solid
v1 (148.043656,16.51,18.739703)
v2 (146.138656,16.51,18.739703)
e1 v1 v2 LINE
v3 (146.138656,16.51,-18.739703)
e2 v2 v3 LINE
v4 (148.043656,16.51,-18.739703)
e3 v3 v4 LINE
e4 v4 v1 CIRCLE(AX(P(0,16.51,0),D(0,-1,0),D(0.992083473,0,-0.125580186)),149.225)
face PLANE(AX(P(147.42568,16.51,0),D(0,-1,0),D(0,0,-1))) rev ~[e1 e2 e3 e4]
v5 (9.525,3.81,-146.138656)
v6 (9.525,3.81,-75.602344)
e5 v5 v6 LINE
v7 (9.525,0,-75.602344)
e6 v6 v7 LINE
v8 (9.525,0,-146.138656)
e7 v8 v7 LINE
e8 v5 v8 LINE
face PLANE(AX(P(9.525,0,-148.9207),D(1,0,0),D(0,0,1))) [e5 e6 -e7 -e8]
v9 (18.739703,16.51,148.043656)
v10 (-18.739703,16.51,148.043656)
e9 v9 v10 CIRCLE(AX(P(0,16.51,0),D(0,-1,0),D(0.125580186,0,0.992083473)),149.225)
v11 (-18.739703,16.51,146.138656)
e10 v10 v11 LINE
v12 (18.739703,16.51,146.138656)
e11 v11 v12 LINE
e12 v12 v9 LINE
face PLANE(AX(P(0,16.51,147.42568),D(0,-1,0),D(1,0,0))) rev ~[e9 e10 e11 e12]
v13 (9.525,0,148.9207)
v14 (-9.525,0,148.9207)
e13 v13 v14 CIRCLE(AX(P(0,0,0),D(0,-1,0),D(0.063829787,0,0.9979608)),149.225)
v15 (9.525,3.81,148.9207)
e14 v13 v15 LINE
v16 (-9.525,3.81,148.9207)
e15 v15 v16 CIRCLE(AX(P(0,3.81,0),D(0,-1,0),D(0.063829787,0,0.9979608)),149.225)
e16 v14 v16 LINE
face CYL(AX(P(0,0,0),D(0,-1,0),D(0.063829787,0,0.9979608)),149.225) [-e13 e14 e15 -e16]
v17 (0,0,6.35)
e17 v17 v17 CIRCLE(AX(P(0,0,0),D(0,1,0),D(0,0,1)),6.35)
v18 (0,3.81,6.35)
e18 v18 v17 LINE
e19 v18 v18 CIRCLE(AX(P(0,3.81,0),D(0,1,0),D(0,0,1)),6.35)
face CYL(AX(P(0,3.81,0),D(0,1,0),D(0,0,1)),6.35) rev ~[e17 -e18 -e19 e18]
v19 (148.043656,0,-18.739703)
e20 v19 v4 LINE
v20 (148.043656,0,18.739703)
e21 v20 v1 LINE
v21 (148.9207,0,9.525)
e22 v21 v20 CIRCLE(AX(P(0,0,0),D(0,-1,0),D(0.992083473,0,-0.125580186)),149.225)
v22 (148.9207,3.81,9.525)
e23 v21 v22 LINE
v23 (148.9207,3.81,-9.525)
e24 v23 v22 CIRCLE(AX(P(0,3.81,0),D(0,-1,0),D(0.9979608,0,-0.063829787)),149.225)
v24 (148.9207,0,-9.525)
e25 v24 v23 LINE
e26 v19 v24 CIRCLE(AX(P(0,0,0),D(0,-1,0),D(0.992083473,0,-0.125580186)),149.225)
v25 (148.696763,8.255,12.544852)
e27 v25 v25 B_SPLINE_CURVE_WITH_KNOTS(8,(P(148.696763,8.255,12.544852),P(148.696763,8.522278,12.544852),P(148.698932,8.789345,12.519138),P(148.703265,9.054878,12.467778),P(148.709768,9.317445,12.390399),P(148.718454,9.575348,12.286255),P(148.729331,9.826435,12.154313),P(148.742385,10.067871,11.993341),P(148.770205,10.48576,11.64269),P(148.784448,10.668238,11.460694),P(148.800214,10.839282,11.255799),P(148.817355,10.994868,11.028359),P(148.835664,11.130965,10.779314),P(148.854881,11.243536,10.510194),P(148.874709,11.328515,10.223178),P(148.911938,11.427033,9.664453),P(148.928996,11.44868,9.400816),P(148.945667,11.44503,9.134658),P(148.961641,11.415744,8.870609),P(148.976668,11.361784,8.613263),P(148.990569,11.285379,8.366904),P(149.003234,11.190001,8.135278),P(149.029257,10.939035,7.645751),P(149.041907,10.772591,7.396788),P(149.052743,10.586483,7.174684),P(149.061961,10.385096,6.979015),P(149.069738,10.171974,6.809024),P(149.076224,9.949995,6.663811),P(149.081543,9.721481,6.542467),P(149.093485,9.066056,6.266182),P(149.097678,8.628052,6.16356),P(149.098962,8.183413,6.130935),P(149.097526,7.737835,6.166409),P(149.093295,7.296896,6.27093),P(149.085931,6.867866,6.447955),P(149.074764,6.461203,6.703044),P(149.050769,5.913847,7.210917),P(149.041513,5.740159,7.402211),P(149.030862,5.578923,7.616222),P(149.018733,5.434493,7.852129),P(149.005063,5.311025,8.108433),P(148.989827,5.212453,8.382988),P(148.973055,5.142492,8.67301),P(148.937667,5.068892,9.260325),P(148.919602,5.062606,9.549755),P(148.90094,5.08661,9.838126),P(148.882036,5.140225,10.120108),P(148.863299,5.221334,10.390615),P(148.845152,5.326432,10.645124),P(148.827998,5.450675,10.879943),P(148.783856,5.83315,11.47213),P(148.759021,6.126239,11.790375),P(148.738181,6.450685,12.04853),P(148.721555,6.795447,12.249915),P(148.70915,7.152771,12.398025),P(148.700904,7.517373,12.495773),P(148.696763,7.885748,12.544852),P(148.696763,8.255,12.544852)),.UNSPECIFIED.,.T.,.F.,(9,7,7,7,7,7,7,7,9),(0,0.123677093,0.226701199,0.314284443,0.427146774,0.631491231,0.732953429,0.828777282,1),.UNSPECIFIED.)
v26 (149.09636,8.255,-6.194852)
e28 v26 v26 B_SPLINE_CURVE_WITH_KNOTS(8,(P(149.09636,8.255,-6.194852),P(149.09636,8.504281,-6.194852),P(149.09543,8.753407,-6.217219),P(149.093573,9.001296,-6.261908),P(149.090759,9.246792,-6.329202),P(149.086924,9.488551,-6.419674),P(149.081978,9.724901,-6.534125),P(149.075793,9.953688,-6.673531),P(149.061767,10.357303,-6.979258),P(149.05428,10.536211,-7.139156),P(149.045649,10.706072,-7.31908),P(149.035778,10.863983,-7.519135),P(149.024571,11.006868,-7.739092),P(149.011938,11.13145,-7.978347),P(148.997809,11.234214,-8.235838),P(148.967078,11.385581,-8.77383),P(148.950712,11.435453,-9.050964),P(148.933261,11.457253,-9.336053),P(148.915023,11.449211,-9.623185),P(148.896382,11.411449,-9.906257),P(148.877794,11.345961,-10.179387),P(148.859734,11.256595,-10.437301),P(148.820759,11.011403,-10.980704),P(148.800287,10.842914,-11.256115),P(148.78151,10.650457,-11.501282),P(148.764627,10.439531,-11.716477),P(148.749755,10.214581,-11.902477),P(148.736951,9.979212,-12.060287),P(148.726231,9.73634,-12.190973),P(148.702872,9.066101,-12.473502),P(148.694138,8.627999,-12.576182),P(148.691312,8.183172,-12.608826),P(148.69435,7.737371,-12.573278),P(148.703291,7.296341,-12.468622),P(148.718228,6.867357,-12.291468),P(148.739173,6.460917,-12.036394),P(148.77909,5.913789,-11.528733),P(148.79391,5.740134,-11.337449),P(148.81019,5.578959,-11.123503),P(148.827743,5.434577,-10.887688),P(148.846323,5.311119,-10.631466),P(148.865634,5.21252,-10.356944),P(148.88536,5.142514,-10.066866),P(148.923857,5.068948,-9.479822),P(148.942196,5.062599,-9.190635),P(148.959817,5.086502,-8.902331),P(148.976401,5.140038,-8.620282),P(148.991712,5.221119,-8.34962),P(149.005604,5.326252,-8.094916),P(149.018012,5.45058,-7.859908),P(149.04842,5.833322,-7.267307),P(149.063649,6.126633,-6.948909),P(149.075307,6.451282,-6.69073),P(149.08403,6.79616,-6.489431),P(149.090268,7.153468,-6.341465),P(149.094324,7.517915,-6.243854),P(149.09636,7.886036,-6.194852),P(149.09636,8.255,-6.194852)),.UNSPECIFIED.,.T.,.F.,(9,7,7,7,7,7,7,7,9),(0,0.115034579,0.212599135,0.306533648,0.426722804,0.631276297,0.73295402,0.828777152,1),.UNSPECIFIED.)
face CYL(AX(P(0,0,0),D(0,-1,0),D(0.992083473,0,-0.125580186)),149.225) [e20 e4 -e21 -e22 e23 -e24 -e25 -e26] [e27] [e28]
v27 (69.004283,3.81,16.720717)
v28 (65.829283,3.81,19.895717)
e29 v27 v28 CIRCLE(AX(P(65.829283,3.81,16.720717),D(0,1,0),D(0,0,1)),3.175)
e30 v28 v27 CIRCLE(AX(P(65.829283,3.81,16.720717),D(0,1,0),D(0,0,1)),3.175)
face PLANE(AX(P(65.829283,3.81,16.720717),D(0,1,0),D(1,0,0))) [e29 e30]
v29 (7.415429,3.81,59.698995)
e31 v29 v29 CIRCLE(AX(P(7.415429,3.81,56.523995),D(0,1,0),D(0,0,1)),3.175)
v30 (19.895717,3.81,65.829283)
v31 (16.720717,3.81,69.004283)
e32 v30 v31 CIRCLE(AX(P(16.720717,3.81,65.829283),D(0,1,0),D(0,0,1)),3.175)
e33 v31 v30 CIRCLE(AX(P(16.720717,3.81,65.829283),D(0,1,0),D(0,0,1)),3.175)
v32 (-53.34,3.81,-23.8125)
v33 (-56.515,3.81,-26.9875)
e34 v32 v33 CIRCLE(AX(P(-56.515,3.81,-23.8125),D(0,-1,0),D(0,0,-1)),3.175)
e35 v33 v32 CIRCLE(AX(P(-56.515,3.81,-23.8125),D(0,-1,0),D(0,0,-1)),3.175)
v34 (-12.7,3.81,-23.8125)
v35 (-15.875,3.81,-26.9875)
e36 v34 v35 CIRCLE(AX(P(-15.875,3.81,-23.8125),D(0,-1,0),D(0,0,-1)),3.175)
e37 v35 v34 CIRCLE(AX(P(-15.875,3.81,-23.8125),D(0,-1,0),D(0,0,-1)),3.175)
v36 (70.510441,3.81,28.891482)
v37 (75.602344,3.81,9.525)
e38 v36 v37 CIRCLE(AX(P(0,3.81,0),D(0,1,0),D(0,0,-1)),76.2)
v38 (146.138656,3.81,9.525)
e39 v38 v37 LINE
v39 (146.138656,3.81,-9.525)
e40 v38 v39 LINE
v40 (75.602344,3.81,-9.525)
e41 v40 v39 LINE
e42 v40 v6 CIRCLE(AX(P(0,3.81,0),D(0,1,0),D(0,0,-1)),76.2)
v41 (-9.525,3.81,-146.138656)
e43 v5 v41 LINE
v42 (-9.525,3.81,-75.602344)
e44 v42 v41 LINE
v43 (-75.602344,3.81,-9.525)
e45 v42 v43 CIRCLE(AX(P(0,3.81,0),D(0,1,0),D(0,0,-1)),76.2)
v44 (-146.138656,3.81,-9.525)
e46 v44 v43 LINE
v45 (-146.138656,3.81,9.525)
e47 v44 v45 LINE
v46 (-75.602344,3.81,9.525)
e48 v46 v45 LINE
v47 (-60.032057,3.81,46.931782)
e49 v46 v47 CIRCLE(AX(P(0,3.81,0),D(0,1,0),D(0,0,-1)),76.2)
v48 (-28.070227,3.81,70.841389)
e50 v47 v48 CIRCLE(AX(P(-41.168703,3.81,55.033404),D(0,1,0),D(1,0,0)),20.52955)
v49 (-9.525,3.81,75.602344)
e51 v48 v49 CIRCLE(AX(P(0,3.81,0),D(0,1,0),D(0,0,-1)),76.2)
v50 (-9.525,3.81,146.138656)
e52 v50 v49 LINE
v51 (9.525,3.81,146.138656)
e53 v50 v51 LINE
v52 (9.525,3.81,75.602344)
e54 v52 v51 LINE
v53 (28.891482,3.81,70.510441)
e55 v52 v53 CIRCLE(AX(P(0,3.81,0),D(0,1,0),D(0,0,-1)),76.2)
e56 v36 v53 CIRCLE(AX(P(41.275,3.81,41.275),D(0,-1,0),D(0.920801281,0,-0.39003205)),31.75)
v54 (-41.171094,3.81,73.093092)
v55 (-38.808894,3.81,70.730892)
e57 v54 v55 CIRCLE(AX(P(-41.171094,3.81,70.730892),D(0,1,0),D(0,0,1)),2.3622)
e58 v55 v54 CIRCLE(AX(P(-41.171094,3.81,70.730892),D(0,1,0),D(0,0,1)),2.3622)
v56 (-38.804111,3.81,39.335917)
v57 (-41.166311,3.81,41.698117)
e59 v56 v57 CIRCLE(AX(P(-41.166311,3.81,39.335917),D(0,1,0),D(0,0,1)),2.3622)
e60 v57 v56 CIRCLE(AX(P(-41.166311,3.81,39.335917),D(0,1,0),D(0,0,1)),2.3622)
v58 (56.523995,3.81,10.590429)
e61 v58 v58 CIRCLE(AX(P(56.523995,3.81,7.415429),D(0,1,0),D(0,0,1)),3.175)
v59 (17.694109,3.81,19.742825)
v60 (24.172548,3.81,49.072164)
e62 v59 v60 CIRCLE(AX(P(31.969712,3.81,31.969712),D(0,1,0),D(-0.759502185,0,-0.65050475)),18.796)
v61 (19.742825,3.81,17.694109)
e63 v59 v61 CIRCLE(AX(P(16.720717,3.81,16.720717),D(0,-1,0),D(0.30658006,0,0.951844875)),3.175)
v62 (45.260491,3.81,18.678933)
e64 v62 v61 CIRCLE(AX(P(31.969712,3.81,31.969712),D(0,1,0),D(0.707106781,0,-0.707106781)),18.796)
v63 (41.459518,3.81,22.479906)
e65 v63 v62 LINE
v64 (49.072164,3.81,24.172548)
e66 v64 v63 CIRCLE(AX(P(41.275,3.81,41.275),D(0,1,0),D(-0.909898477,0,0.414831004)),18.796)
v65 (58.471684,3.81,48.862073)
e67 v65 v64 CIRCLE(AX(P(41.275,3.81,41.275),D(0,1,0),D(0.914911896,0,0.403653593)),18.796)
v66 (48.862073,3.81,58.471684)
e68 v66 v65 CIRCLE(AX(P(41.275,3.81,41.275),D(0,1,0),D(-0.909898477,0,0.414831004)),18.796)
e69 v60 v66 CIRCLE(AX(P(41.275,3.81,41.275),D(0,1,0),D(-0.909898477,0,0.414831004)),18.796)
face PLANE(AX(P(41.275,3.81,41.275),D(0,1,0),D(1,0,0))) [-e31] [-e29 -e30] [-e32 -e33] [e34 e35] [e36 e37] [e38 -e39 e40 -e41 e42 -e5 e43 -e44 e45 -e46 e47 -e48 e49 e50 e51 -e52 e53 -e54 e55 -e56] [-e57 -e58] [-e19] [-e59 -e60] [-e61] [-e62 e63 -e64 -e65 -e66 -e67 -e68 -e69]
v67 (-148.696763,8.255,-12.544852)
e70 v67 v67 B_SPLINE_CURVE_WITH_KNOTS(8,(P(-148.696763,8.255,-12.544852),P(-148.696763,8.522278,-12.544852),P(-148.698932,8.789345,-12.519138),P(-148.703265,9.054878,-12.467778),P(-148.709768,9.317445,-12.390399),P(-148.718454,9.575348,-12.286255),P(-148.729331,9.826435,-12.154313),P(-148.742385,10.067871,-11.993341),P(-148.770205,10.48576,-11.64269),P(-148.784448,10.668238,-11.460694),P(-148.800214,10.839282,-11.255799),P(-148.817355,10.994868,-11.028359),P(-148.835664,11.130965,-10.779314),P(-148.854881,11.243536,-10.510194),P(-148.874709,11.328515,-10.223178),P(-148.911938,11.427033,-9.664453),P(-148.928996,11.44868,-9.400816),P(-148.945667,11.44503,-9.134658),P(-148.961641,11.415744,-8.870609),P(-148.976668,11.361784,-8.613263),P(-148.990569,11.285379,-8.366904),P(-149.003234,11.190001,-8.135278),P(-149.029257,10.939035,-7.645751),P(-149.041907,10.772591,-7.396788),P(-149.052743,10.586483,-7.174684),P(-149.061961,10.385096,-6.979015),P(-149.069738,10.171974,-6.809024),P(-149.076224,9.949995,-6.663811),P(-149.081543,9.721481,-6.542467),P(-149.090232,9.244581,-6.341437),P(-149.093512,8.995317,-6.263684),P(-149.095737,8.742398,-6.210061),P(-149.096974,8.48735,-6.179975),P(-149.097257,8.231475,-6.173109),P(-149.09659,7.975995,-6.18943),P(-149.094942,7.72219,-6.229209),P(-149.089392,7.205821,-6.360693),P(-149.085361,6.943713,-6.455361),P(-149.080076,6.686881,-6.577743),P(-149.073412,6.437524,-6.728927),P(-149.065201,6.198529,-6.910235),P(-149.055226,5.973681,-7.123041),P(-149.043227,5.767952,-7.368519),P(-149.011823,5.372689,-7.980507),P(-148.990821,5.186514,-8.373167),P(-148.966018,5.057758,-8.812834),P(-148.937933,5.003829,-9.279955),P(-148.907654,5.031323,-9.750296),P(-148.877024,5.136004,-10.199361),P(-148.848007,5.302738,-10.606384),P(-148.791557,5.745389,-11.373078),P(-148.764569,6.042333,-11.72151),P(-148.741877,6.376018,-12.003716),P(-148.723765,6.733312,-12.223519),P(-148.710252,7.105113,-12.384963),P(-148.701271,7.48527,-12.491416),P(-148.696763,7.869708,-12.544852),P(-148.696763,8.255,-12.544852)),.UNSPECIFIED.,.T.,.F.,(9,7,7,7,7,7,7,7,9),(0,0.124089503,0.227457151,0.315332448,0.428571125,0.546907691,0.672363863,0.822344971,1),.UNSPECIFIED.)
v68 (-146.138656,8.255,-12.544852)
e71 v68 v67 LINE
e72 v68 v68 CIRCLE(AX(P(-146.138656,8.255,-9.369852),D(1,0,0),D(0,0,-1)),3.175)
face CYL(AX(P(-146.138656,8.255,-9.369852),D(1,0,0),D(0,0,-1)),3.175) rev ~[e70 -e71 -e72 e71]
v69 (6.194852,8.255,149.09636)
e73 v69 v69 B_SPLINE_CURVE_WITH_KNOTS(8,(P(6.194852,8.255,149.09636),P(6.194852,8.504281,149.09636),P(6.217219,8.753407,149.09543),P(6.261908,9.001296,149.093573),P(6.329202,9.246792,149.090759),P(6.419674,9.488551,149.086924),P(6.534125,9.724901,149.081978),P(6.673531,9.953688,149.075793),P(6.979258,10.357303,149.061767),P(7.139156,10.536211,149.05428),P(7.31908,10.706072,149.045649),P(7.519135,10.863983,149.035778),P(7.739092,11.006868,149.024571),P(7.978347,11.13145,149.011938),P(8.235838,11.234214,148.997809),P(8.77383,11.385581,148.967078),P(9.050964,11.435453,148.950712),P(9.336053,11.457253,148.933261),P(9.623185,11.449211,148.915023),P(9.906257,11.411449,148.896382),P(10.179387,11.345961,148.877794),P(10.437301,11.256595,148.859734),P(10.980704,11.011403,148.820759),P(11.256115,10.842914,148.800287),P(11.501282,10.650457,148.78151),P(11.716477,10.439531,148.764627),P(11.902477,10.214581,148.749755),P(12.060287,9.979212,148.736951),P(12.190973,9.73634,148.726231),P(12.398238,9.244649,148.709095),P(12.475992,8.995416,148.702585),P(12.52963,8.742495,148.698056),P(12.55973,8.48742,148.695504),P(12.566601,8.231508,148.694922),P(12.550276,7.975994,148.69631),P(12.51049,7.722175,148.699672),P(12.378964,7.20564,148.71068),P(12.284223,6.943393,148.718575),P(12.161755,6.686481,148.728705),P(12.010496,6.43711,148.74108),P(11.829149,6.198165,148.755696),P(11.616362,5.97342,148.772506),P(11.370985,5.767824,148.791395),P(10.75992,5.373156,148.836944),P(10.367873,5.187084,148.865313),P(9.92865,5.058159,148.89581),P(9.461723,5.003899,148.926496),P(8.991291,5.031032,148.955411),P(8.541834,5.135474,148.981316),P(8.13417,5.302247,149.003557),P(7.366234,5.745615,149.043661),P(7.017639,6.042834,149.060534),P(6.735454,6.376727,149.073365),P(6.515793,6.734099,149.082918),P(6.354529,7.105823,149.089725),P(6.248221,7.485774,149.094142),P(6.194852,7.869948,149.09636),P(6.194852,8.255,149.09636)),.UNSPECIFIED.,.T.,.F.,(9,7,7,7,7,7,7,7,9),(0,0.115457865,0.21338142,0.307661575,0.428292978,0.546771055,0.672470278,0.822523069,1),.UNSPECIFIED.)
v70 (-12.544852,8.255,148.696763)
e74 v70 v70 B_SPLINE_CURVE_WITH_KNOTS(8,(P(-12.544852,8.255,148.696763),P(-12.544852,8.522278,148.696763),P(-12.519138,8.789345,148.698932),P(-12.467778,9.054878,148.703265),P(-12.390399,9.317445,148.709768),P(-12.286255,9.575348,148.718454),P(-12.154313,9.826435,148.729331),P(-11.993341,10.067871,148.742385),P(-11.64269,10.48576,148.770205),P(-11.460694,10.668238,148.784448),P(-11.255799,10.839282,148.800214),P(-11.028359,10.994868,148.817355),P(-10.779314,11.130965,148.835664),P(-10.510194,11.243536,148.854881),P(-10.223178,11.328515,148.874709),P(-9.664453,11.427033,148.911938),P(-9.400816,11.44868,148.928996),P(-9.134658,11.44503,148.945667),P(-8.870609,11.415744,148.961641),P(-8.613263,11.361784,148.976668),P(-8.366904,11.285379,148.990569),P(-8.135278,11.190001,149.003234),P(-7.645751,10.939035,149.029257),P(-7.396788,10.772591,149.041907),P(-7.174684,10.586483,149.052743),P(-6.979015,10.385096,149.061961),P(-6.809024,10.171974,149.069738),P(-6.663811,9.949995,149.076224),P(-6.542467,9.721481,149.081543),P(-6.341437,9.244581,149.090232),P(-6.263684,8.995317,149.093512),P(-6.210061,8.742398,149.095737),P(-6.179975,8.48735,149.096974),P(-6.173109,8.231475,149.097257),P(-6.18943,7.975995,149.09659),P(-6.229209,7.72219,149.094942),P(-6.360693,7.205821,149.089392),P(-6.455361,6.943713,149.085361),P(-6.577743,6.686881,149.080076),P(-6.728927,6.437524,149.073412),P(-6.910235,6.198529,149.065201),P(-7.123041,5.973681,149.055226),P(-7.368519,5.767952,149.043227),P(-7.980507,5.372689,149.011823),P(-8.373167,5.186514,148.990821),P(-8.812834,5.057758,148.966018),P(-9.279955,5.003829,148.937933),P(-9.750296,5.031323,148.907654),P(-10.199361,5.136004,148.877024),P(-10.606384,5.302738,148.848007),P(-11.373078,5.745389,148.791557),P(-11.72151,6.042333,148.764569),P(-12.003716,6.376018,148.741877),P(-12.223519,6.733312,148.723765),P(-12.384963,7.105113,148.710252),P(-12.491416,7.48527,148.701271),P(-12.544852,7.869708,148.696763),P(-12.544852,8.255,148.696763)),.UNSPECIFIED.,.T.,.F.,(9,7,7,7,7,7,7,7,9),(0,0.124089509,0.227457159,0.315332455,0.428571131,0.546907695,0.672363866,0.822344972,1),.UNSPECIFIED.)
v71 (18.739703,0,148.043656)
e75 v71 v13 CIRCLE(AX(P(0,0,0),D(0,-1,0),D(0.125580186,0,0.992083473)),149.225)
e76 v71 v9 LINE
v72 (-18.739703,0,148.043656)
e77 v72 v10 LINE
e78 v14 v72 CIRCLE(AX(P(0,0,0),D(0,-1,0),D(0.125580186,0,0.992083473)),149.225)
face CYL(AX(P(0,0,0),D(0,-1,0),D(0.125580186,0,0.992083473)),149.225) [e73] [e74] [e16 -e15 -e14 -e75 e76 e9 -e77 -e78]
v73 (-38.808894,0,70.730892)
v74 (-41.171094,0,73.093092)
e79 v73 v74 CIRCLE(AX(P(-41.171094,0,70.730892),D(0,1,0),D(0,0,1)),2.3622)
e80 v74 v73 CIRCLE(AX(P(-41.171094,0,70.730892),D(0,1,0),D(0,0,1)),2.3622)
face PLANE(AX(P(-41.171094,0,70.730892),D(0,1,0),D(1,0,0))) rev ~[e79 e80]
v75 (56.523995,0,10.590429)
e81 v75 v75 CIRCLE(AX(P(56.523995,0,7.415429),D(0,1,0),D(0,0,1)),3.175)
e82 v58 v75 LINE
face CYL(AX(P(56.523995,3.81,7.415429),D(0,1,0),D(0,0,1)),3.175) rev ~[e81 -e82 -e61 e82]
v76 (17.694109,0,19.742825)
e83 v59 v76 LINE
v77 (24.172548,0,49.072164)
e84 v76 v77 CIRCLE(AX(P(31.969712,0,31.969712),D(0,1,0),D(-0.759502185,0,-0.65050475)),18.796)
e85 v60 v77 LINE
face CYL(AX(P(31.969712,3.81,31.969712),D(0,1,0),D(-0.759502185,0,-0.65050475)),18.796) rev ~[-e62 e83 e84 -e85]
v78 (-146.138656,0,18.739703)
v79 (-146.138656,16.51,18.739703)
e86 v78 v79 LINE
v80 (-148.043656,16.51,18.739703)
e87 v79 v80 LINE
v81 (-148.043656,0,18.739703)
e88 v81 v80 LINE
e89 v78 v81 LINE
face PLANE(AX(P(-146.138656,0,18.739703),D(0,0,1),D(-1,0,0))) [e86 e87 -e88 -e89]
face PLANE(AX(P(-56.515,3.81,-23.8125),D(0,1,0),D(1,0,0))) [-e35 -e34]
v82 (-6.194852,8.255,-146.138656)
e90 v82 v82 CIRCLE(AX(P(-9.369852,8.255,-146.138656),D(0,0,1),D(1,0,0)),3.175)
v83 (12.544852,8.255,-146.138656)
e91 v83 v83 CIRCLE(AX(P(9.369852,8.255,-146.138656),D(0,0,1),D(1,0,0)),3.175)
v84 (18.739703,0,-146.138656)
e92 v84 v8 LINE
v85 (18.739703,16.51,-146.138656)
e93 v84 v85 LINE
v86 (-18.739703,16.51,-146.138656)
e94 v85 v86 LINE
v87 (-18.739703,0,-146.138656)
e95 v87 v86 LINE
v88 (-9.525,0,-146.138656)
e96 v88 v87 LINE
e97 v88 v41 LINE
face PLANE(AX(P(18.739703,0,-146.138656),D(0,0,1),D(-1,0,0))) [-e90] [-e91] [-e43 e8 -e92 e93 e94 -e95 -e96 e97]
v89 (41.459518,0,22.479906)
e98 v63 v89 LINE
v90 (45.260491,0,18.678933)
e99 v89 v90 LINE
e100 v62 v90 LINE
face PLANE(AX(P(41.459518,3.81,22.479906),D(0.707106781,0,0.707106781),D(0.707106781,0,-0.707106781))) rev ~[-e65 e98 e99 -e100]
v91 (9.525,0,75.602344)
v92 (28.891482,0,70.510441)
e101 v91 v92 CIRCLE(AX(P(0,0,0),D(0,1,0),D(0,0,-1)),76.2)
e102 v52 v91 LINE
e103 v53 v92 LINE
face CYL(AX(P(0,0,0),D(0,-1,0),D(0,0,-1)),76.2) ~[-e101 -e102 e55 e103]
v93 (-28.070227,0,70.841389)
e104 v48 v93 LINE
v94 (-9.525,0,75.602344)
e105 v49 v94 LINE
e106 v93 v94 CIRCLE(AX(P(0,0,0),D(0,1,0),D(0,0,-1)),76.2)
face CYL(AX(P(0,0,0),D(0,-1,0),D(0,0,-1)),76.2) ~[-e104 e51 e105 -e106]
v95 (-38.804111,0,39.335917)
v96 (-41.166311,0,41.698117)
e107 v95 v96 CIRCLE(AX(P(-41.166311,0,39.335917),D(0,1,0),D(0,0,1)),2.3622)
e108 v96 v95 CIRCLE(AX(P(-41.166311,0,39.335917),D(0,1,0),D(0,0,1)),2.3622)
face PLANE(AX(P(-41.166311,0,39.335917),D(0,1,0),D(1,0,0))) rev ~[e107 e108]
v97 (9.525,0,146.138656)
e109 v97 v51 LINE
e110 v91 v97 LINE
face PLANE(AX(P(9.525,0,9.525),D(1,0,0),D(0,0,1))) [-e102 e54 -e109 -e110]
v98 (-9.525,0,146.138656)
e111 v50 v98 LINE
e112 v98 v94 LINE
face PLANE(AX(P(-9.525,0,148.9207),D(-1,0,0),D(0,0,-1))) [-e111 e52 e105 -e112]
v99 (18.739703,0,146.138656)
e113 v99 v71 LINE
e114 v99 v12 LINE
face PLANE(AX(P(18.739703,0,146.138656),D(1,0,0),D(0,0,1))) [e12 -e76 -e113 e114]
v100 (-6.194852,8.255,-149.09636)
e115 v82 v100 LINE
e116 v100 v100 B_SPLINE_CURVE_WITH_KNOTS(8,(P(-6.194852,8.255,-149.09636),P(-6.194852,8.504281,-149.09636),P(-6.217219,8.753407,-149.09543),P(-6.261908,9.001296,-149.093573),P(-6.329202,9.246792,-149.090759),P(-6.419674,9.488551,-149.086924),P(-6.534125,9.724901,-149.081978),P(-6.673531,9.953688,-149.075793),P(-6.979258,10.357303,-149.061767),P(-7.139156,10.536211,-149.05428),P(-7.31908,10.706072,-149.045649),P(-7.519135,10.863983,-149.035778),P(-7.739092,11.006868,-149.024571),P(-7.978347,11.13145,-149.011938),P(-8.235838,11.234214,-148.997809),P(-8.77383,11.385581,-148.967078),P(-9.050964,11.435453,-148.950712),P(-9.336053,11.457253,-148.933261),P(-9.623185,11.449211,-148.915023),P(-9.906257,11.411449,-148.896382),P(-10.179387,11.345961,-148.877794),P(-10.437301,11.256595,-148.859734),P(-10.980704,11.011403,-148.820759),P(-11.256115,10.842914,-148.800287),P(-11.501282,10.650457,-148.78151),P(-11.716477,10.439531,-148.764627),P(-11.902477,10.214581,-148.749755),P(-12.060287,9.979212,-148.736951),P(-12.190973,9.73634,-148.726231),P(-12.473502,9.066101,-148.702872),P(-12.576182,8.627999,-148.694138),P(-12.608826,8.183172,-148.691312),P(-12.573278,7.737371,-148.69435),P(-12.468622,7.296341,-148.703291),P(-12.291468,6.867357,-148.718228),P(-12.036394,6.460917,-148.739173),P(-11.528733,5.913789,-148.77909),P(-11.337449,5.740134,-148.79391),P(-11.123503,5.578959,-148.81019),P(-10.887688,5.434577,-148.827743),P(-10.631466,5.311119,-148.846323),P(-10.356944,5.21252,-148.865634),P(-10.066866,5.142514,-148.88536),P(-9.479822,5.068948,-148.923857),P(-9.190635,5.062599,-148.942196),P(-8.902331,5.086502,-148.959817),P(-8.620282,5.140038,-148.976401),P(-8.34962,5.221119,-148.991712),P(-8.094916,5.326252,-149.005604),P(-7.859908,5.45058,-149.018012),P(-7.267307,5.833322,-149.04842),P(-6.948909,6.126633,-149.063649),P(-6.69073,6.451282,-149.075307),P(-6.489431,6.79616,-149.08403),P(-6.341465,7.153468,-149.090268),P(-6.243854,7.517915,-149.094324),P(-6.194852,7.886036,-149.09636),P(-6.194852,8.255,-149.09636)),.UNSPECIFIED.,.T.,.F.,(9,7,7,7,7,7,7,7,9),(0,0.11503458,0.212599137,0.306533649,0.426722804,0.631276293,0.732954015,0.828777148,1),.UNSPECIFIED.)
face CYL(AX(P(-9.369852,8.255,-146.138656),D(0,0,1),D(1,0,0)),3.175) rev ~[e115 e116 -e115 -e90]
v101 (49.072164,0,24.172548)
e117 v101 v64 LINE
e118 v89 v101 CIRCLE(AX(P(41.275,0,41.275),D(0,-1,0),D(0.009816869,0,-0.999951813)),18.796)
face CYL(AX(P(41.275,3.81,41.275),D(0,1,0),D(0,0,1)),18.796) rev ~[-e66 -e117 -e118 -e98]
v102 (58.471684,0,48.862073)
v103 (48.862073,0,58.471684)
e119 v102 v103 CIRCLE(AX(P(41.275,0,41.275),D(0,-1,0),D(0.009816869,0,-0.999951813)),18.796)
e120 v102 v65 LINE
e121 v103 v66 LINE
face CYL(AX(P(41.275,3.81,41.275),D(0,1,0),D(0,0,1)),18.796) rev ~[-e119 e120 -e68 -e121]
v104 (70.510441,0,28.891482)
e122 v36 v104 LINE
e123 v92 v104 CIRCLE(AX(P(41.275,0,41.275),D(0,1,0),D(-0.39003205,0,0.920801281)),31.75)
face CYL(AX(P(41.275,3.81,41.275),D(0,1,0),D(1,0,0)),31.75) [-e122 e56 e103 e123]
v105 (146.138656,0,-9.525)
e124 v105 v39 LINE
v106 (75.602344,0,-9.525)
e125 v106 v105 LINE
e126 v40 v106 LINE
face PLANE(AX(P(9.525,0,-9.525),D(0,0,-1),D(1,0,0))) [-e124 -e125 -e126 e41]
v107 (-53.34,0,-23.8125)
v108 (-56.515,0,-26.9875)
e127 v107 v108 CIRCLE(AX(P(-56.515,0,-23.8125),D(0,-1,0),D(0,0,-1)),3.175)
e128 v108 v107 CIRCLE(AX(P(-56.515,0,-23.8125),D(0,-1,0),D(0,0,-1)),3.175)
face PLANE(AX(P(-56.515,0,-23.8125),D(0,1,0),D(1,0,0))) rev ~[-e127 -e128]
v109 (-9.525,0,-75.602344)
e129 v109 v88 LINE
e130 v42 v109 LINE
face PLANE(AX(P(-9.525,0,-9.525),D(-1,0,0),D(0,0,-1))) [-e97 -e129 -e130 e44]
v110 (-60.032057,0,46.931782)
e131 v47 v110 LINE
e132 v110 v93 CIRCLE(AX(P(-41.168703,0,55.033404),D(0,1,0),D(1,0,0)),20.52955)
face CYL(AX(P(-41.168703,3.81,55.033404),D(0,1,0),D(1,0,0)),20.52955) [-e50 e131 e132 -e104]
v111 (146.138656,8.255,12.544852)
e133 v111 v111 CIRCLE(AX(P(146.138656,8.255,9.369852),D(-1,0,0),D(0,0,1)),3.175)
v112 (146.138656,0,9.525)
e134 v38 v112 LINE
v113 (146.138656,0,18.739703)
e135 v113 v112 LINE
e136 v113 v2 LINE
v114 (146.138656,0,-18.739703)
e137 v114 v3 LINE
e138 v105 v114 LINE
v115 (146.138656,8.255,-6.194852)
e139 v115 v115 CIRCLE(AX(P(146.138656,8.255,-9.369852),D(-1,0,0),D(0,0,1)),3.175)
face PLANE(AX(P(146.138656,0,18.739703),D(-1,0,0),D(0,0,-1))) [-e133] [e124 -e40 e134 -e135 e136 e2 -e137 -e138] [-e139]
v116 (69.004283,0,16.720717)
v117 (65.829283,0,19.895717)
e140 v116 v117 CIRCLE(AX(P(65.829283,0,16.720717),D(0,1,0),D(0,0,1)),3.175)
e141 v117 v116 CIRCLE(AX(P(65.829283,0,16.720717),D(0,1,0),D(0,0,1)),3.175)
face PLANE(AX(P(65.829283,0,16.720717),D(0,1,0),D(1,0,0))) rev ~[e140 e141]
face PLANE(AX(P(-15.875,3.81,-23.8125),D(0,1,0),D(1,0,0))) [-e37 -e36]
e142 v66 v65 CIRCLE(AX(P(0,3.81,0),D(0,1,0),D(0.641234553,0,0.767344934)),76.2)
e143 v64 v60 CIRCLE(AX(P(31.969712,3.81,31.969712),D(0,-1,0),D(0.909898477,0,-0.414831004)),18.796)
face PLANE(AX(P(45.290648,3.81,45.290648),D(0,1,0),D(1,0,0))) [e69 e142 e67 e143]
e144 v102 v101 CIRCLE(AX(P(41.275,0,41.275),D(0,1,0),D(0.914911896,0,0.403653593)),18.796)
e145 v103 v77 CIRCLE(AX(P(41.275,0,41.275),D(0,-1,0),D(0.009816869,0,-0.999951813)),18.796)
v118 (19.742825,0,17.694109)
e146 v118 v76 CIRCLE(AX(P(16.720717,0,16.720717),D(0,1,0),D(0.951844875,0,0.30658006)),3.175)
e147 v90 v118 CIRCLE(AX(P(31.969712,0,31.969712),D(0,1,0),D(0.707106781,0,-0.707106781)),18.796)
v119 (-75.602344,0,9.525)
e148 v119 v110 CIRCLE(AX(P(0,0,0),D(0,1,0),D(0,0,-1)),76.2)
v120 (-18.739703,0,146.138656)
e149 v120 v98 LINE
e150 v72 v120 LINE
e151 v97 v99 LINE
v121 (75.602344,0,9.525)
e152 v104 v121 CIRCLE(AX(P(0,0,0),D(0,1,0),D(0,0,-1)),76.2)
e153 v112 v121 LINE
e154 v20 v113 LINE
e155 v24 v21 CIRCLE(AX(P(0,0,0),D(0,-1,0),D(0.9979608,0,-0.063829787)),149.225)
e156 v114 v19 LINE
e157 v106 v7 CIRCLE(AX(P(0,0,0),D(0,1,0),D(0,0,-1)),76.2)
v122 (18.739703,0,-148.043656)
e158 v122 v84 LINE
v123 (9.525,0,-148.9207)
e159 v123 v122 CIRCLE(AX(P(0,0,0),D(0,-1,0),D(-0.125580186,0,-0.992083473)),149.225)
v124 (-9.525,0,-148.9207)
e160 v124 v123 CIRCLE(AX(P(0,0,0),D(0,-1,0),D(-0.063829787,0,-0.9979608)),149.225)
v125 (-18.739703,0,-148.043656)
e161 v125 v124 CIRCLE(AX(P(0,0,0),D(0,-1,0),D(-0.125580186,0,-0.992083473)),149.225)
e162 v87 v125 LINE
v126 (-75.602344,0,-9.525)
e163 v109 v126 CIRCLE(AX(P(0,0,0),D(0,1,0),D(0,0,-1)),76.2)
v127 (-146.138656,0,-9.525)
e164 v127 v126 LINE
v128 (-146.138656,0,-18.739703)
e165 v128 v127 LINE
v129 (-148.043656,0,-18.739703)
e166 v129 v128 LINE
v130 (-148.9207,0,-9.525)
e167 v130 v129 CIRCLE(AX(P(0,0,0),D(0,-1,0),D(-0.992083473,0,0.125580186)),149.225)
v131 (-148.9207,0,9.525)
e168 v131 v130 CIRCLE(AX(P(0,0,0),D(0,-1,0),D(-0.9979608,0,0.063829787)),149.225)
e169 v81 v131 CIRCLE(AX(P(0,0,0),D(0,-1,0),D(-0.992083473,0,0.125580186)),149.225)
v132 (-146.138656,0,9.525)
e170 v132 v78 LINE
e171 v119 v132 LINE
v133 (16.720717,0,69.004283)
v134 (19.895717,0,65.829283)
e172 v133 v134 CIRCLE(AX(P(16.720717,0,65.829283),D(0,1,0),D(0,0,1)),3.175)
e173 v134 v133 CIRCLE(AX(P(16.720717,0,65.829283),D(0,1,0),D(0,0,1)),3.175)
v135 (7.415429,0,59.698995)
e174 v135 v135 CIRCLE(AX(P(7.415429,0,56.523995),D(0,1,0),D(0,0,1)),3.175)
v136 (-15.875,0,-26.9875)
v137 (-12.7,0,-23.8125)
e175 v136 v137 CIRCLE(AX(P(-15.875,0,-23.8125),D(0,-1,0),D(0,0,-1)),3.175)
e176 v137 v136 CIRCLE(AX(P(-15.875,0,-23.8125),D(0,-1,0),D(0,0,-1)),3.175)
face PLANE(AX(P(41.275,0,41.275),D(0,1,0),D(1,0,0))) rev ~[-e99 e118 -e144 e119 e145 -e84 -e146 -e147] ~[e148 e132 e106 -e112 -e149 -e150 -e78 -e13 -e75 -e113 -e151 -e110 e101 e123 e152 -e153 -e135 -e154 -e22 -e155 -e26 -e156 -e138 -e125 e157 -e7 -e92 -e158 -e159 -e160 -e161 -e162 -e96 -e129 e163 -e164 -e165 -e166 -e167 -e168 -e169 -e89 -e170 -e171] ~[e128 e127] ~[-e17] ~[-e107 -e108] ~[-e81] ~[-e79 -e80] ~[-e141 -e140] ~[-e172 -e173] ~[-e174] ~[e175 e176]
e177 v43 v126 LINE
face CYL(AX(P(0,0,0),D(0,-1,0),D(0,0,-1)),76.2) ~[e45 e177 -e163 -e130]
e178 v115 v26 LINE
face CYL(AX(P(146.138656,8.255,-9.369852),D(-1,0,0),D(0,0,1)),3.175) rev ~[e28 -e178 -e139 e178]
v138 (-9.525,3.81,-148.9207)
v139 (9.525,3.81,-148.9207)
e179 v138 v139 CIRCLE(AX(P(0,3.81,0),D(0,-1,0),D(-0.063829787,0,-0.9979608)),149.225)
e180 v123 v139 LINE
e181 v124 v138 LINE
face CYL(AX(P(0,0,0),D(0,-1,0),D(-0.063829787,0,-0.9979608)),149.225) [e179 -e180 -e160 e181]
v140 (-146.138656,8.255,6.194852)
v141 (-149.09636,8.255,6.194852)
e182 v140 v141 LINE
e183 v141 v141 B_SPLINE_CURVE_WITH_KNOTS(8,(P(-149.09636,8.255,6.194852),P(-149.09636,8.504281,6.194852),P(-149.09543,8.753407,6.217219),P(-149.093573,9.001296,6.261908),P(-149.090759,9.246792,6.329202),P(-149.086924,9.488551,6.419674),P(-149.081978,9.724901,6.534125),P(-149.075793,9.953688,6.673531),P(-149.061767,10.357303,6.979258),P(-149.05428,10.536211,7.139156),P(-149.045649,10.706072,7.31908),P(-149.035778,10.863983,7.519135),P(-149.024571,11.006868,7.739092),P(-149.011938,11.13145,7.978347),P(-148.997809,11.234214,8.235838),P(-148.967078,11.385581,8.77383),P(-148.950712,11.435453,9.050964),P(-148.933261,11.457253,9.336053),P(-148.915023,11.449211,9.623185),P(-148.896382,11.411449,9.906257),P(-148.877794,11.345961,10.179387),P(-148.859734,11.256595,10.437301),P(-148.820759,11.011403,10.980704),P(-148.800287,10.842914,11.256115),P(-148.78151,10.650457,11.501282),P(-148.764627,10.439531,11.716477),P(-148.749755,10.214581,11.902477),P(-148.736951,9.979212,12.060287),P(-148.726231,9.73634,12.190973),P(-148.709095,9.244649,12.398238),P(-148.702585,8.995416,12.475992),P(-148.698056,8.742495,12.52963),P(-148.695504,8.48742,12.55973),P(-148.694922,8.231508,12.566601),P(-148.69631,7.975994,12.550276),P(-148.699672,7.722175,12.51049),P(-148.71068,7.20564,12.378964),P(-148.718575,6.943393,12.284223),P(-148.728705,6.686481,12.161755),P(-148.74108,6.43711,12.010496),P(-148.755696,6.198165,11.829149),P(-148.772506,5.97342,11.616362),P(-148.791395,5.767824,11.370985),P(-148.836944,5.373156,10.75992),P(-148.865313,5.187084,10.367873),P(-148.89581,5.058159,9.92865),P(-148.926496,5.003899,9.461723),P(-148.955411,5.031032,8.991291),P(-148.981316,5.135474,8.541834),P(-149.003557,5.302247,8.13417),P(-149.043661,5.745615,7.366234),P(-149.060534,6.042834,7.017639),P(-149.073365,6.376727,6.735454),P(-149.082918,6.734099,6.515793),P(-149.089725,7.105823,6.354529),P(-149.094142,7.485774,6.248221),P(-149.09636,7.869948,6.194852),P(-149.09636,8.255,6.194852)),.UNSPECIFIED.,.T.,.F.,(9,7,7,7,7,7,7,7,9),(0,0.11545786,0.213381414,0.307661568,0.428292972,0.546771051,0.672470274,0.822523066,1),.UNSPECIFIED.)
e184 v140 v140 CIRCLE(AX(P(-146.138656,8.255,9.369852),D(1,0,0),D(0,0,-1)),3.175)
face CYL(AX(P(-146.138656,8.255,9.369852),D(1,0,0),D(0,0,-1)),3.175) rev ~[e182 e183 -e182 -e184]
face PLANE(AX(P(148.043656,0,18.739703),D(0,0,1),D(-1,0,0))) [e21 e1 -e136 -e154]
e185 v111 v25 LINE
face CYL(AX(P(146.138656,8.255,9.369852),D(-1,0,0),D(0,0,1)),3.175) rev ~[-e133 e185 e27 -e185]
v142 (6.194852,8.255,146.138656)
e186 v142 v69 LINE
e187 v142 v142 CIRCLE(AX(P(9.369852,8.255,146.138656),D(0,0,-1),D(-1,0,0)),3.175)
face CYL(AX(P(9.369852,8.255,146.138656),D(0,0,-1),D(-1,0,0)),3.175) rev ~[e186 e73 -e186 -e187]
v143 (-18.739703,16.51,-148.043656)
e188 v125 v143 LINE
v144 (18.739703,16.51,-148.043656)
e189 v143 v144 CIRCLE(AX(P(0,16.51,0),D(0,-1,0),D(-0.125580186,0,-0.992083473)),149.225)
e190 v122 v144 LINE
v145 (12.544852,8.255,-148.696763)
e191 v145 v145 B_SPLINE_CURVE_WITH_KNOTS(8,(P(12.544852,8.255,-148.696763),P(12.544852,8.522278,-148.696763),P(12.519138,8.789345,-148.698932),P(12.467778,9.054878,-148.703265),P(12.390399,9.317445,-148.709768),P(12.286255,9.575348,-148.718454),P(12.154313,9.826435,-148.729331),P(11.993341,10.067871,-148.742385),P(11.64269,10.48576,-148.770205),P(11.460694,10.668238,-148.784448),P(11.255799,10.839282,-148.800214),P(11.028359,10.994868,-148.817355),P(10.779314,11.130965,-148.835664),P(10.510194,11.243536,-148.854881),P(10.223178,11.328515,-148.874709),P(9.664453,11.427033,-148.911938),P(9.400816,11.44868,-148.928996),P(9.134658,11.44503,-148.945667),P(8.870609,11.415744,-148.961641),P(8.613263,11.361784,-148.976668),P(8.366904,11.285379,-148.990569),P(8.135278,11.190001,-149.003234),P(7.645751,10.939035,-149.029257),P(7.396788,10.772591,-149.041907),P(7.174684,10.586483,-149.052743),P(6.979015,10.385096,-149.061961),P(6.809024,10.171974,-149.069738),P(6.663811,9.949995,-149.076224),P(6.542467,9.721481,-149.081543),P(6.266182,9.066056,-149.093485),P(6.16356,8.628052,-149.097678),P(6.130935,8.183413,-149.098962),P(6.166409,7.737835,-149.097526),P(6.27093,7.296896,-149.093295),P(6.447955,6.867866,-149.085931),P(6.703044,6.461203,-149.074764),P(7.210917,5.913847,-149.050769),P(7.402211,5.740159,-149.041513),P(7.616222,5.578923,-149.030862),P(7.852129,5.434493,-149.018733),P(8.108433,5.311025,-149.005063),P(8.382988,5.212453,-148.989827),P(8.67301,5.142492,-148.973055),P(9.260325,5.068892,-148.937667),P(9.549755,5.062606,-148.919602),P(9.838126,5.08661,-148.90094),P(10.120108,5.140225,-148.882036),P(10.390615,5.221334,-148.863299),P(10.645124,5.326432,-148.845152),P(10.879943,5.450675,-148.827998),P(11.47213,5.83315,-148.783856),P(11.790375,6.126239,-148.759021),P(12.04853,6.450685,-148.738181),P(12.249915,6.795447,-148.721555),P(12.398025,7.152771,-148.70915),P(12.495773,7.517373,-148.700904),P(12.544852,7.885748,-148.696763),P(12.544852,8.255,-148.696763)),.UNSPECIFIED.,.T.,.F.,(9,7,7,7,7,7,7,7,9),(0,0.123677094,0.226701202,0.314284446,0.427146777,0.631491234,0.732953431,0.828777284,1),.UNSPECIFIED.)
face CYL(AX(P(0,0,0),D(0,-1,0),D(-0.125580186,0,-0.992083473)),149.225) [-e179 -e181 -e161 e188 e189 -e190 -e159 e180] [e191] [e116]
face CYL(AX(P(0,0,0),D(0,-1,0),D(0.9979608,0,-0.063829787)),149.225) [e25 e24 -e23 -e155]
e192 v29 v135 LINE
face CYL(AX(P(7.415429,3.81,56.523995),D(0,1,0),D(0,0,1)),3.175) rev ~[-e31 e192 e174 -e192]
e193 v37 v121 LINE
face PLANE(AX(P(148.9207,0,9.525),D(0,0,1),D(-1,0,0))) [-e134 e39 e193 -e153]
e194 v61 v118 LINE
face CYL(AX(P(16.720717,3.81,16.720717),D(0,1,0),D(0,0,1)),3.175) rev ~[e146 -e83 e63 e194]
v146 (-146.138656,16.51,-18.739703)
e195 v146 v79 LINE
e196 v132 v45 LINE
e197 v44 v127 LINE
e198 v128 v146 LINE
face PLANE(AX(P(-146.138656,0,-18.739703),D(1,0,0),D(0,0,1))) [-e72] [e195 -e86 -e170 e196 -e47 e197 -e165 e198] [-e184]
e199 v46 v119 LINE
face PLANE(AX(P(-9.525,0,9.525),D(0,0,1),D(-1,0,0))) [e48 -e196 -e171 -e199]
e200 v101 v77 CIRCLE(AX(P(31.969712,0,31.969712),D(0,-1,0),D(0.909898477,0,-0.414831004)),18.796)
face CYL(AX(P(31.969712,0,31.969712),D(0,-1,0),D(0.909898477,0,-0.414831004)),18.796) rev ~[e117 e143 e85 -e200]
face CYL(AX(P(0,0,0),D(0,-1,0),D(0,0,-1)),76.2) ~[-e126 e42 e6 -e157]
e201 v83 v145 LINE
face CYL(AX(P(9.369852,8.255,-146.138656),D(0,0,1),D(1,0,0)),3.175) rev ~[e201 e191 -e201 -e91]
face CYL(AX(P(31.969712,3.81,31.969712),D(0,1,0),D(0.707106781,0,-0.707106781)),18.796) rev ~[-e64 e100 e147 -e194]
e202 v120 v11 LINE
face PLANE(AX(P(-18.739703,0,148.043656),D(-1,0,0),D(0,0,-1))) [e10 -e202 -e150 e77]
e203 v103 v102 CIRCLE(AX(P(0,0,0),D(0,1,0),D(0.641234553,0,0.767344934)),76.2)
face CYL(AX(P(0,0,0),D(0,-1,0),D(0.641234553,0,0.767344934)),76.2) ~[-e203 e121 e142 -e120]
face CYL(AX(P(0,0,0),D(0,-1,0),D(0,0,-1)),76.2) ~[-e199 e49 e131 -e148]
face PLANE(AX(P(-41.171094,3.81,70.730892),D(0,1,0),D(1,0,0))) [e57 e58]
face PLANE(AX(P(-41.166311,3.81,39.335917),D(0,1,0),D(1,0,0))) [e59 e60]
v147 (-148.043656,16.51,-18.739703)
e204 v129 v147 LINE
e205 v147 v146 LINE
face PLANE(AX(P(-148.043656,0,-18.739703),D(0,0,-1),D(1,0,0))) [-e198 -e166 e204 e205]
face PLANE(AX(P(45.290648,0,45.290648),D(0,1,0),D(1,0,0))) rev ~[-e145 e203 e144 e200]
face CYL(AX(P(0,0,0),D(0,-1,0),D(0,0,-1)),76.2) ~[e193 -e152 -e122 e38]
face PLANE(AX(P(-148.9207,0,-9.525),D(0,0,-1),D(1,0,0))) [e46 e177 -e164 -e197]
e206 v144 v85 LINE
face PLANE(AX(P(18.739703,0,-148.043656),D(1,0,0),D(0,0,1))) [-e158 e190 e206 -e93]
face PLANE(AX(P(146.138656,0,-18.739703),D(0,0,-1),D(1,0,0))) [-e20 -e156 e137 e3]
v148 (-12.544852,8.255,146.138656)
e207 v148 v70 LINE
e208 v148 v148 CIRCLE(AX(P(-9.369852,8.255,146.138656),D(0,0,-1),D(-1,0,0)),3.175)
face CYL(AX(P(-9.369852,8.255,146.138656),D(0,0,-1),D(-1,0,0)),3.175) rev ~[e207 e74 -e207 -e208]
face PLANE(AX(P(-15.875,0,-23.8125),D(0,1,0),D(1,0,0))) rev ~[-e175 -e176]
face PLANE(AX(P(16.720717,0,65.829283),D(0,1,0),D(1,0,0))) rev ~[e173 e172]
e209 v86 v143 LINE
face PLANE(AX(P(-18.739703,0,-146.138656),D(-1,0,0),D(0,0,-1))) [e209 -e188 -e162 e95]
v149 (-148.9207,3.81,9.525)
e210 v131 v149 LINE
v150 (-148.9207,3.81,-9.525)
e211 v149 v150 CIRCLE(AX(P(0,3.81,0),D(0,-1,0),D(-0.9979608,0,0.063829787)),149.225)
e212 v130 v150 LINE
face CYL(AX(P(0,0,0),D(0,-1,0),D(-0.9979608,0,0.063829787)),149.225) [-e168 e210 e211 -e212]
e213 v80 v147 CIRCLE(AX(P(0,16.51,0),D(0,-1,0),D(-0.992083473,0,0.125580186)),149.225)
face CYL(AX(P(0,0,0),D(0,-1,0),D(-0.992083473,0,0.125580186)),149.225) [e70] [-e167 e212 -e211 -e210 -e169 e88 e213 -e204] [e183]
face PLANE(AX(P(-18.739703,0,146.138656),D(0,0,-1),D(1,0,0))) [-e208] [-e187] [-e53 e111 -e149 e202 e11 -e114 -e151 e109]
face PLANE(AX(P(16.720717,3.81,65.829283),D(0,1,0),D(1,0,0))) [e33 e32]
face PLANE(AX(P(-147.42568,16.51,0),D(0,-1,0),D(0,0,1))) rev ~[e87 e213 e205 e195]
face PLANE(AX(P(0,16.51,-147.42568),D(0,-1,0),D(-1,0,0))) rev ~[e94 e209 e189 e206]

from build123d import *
from build123d.topology import SkipClean

# Parameters (mm, degrees)
SKETCH1_R           = 76.2
BOSS_EXTRUDE1_DEPTH = 3.81
BOSS_EXTRUDE3_DEPTH = 3.81
SKETCH5_R           = 6.35
CUT_EXTRUDE1_DEPTH  = 212.070408513
BOSS_EXTRUDE4_START = -3.81
BOSS_EXTRUDE4_DEPTH = 16.51
SKETCH8_R           = 3.175
CUT_EXTRUDE3_DEPTH  = 332.331209118
CIRPATTERN3_COUNT   = 4
SKETCH9_R           = 3.174999999
CUT_EXTRUDE4_DEPTH  = 3.81
SKETCH11_R          = 31.75
SKETCH11_R_2        = 25.4
BOSS_EXTRUDE5_DEPTH = 3.81
SKETCH12_R          = 25.4
CUT_EXTRUDE5_DEPTH  = 3.81
SKETCH13_R          = 20.52955
SKETCH13_R_2        = 2.3622
BOSS_EXTRUDE7_DEPTH = 3.81
SKETCH14_R          = 2.3622
CUT_EXTRUDE6_DEPTH  = 3.81
SKETCH15_R          = 3.175
CUT_EXTRUDE7_DEPTH  = 3.81
SKETCH16_R          = 25.4
SKETCH16_R_2        = 18.796
BOSS_EXTRUDE8_DEPTH = 3.81
SKETCH17_R          = 3.175
CUT_EXTRUDE8_DEPTH  = 212.417812192
BOSS_EXTRUDE9_START = -3.81
SKETCH19_R          = 3.175
SKETCH19_R_2        = 2.3622
SKETCH19_R_3        = 3.174999999
BOSS_EXTRUDE9_DEPTH = 3.81


with BuildPart() as part:
    # Sketch1 → Boss-Extrude1 (new body)
    with BuildSketch(Plane(origin=(0, 0, 0), x_dir=(1, 0, 0), z_dir=(0, 1, 0))):
        with Locations(Location((0, 0, 0), (0, 0, 90))):
            Circle(SKETCH1_R)
    extrude(amount=BOSS_EXTRUDE1_DEPTH)

    # Sketch3 → Boss-Extrude3 (add)
    with BuildSketch(Plane(origin=(0, 0, 0), x_dir=(-1, 0, 0), z_dir=(0, -1, 0))):
        with BuildLine():
            Line((9.525, -9.525), (148.920700374, -9.525))
            ThreePointArc((148.920700374, -9.525), (149.225, 0), (148.920700374, 9.525))
            Line((148.920700374, 9.525), (9.525, 9.525))
            Line((9.525, 9.525), (9.525, 148.920700374))
            ThreePointArc((9.525, 148.920700374), (0, 149.225), (-9.525, 148.920700374))
            Line((-9.525, 148.920700374), (-9.525, 9.525))
            Line((-9.525, 9.525), (-148.920700374, 9.525))
            ThreePointArc((-148.920700374, 9.525), (-149.225, 0), (-148.920700374, -9.525))
            Line((-148.920700374, -9.525), (-9.525, -9.525))
            Line((-9.525, -9.525), (-9.525, -148.920700374))
            ThreePointArc((-9.525, -148.920700374), (0, -149.225), (9.525, -148.920700374))
            Line((9.525, -148.920700374), (9.525, -9.525))
        make_face()
    extrude(amount=-BOSS_EXTRUDE3_DEPTH)

    # Sketch5 → Cut-Extrude1 (cut, through all)
    with BuildSketch(Plane(origin=(0, 3.81, 0), x_dir=(1, 0, 0), z_dir=(0, 1, 0))):
        with Locations(Location((0, 0, 0), (0, 0, 270))):
            Circle(SKETCH5_R)
    extrude(amount=-CUT_EXTRUDE1_DEPTH, mode=Mode.SUBTRACT)

    # Sketch7 → Boss-Extrude4 (add)
    with BuildSketch(Plane(origin=(0, 3.81, 0), x_dir=(1, 0, 0), z_dir=(0, 1, 0)).offset(BOSS_EXTRUDE4_START)):
        with BuildLine():
            Line((18.739703318, 148.043656212), (18.739703318, 146.138656212))
            Line((18.739703318, 146.138656212), (-18.739703318, 146.138656212))
            Line((-18.739703318, 146.138656212), (-18.739703318, 148.043656212))
            ThreePointArc((-18.739703318, 148.043656212), (0, 149.225), (18.739703318, 148.043656212))
        make_face()
    boss_extrude4 = extrude(amount=BOSS_EXTRUDE4_DEPTH)

    # Sketch8 → Cut-Extrude3 (cut, through all)
    with BuildSketch(Plane.XY.offset(-146.138656212)):
        with Locations((-9.369851659, 8.255)):
            Circle(SKETCH8_R)
        with Locations((9.369851659, 8.255)):
            Circle(SKETCH8_R)
    cut_extrude3 = extrude(amount=-CUT_EXTRUDE3_DEPTH, mode=Mode.SUBTRACT)

    # CirPattern3: Boss-Extrude4, Cut-Extrude3 ×4 about axis
    cirpattern3_axis = Axis((0, 0, 0), (0, 1, 0))
    add([boss_extrude4.rotate(cirpattern3_axis, i * 360 / CIRPATTERN3_COUNT) for i in range(1, CIRPATTERN3_COUNT)])
    add([cut_extrude3.rotate(cirpattern3_axis, i * 360 / CIRPATTERN3_COUNT) for i in range(1, CIRPATTERN3_COUNT)], mode=Mode.SUBTRACT)

    # Sketch9 → Cut-Extrude4 (cut)
    with BuildSketch(Plane.XZ):
        with Locations(Location((-56.514999999, -23.8125, 0), (0, 0, 270))):
            Circle(SKETCH9_R)
        with Locations(Location((-15.874999999, -23.8125, 0), (0, 0, 270))):
            Circle(SKETCH9_R)
    extrude(amount=-CUT_EXTRUDE4_DEPTH, mode=Mode.SUBTRACT)

    # Sketch11 → Boss-Extrude5 (add)
    with BuildSketch(Plane(origin=(0, 3.81, 0), x_dir=(1, 0, 0), z_dir=(0, 1, 0))):
        with Locations((41.275, -41.275)):
            Circle(SKETCH11_R)
        with Locations((41.275, -41.275)):
            Circle(SKETCH11_R_2, mode=Mode.SUBTRACT)
    extrude(amount=-BOSS_EXTRUDE5_DEPTH)

    # Sketch12 → Cut-Extrude5 (cut)
    with BuildSketch(Plane(origin=(0, 3.81, 0), x_dir=(1, 0, 0), z_dir=(0, 1, 0))):
        with Locations(Location((41.275, -41.275, 0), (0, 0, 270))):
            Circle(SKETCH12_R)
    extrude(amount=-CUT_EXTRUDE5_DEPTH, mode=Mode.SUBTRACT)

    # Sketch13 → Boss-Extrude7 (add)
    with BuildSketch(Plane(origin=(0, 3.81, 0), x_dir=(1, 0, 0), z_dir=(0, 1, 0))):
        with Locations((-41.16870274, -55.03340443)):
            Circle(SKETCH13_R)
        with Locations(Location((-41.17109409, -70.730891948, 0), (0, 0, 270))):
            Circle(SKETCH13_R_2, mode=Mode.SUBTRACT)
        with Locations((-41.166311391, -39.335916913)):
            Circle(SKETCH13_R_2, mode=Mode.SUBTRACT)
    extrude(amount=-BOSS_EXTRUDE7_DEPTH)

    # Sketch14 → Cut-Extrude6 (cut)
    with BuildSketch(Plane(origin=(0, 3.81, 0), x_dir=(1, 0, 0), z_dir=(0, 1, 0))):
        with Locations(Location((-41.166311391, -39.335916913, 0), (0, 0, 270))):
            Circle(SKETCH14_R)
    extrude(amount=-CUT_EXTRUDE6_DEPTH, mode=Mode.SUBTRACT)

    # Sketch15 → Cut-Extrude7 (cut)
    with BuildSketch(Plane(origin=(0, 3.81, 0), x_dir=(1, 0, 0), z_dir=(0, 1, 0))):
        with Locations(Location((16.720717023, -16.720717023, 0), (0, 0, 270))):
            Circle(SKETCH15_R)
        with Locations(Location((65.829282977, -16.720717023, 0), (0, 0, 270))):
            Circle(SKETCH15_R)
        with Locations(Location((16.720717023, -65.829282977, 0), (0, 0, 270))):
            Circle(SKETCH15_R)
    extrude(amount=-CUT_EXTRUDE7_DEPTH, mode=Mode.SUBTRACT)

    # Sketch16 → Boss-Extrude8 (add)
    with BuildSketch(Plane(origin=(0, 3.81, 0), x_dir=(1, 0, 0), z_dir=(0, 1, 0))):
        with Locations((41.275, -41.275)):
            Circle(SKETCH16_R)
        with Locations(Location((41.275, -41.275, 0), (0, 0, 270))):
            Circle(SKETCH16_R_2, mode=Mode.SUBTRACT)
    extrude(amount=-BOSS_EXTRUDE8_DEPTH)

    # Sketch17 → Cut-Extrude8 (cut, through all)
    with BuildSketch(Plane(origin=(0, 3.81, 0), x_dir=(1, 0, 0), z_dir=(0, 1, 0))):
        with BuildLine():
            ThreePointArc((24.172548233, -49.072163558), (22.778717915, -37.931773261), (27.984220941, -27.984220941))
            Line((27.984220941, -27.984220941), (18.965781054, -18.965781054))
            ThreePointArc((18.965781054, -18.965781054), (18.376181742, -19.429971822), (17.694108713, -19.742824503))
            ThreePointArc((17.694108713, -19.742824503), (13.616121159, -36.023762469), (24.172548233, -49.072163558))
        make_face()
        with BuildLine():
            Line((18.965781054, -18.965781054), (27.984220941, -27.984220941))
            ThreePointArc((27.984220941, -27.984220941), (34.167406023, -23.874663111), (41.459517866, -22.479905716))
            Line((41.459517866, -22.479905716), (45.26049085, -18.678932732))
            ThreePointArc((45.26049085, -18.678932732), (32.694581443, -13.187694328), (19.742824503, -17.694108713))
            ThreePointArc((19.742824503, -17.694108713), (19.429971822, -18.376181742), (18.965781054, -18.965781054))
        make_face()
        with Locations(Location((56.523994768, -7.415428814, 0), (0, 0, 270))):
            Circle(SKETCH17_R)
        with Locations(Location((7.415428814, -56.523994768, 0), (0, 0, 270))):
            Circle(SKETCH17_R)
    extrude(amount=-CUT_EXTRUDE8_DEPTH, mode=Mode.SUBTRACT)

    # Sketch19 → Boss-Extrude9 (add)
    with SkipClean():  # the faces are left unmerged after this step: merging them gives an invalid solid
        with BuildSketch(Plane(origin=(0, 3.81, 0), x_dir=(1, 0, 0), z_dir=(0, 1, 0)).offset(BOSS_EXTRUDE9_START)):
            with BuildLine():
                ThreePointArc((24.172548233, -49.072163558), (34.587447779, -58.841054232), (48.86207293, -58.471683993))
                ThreePointArc((48.86207293, -58.471683993), (53.881536726, -53.881536726), (58.471683993, -48.86207293))
                ThreePointArc((58.471683993, -48.86207293), (58.841054232, -34.587447779), (49.072163558, -24.172548233))
                ThreePointArc((49.072163558, -24.172548233), (45.26049085, -45.26049085), (24.172548233, -49.072163558))
            make_face()
            with Locations((65.829282977, -16.720717023)):
                Circle(SKETCH19_R)
            with Locations((16.720717023, -65.829282977)):
                Circle(SKETCH19_R)
            with Locations((-41.17109409, -70.730891948)):
                Circle(SKETCH19_R_2)
            with Locations((-41.166311391, -39.335916913)):
                Circle(SKETCH19_R_2)
            with Locations((-15.874999999, 23.8125)):
                Circle(SKETCH19_R_3)
            with Locations((-56.514999999, 23.8125)):
                Circle(SKETCH19_R_3)
        extrude(amount=BOSS_EXTRUDE9_DEPTH)


solid = part.part
